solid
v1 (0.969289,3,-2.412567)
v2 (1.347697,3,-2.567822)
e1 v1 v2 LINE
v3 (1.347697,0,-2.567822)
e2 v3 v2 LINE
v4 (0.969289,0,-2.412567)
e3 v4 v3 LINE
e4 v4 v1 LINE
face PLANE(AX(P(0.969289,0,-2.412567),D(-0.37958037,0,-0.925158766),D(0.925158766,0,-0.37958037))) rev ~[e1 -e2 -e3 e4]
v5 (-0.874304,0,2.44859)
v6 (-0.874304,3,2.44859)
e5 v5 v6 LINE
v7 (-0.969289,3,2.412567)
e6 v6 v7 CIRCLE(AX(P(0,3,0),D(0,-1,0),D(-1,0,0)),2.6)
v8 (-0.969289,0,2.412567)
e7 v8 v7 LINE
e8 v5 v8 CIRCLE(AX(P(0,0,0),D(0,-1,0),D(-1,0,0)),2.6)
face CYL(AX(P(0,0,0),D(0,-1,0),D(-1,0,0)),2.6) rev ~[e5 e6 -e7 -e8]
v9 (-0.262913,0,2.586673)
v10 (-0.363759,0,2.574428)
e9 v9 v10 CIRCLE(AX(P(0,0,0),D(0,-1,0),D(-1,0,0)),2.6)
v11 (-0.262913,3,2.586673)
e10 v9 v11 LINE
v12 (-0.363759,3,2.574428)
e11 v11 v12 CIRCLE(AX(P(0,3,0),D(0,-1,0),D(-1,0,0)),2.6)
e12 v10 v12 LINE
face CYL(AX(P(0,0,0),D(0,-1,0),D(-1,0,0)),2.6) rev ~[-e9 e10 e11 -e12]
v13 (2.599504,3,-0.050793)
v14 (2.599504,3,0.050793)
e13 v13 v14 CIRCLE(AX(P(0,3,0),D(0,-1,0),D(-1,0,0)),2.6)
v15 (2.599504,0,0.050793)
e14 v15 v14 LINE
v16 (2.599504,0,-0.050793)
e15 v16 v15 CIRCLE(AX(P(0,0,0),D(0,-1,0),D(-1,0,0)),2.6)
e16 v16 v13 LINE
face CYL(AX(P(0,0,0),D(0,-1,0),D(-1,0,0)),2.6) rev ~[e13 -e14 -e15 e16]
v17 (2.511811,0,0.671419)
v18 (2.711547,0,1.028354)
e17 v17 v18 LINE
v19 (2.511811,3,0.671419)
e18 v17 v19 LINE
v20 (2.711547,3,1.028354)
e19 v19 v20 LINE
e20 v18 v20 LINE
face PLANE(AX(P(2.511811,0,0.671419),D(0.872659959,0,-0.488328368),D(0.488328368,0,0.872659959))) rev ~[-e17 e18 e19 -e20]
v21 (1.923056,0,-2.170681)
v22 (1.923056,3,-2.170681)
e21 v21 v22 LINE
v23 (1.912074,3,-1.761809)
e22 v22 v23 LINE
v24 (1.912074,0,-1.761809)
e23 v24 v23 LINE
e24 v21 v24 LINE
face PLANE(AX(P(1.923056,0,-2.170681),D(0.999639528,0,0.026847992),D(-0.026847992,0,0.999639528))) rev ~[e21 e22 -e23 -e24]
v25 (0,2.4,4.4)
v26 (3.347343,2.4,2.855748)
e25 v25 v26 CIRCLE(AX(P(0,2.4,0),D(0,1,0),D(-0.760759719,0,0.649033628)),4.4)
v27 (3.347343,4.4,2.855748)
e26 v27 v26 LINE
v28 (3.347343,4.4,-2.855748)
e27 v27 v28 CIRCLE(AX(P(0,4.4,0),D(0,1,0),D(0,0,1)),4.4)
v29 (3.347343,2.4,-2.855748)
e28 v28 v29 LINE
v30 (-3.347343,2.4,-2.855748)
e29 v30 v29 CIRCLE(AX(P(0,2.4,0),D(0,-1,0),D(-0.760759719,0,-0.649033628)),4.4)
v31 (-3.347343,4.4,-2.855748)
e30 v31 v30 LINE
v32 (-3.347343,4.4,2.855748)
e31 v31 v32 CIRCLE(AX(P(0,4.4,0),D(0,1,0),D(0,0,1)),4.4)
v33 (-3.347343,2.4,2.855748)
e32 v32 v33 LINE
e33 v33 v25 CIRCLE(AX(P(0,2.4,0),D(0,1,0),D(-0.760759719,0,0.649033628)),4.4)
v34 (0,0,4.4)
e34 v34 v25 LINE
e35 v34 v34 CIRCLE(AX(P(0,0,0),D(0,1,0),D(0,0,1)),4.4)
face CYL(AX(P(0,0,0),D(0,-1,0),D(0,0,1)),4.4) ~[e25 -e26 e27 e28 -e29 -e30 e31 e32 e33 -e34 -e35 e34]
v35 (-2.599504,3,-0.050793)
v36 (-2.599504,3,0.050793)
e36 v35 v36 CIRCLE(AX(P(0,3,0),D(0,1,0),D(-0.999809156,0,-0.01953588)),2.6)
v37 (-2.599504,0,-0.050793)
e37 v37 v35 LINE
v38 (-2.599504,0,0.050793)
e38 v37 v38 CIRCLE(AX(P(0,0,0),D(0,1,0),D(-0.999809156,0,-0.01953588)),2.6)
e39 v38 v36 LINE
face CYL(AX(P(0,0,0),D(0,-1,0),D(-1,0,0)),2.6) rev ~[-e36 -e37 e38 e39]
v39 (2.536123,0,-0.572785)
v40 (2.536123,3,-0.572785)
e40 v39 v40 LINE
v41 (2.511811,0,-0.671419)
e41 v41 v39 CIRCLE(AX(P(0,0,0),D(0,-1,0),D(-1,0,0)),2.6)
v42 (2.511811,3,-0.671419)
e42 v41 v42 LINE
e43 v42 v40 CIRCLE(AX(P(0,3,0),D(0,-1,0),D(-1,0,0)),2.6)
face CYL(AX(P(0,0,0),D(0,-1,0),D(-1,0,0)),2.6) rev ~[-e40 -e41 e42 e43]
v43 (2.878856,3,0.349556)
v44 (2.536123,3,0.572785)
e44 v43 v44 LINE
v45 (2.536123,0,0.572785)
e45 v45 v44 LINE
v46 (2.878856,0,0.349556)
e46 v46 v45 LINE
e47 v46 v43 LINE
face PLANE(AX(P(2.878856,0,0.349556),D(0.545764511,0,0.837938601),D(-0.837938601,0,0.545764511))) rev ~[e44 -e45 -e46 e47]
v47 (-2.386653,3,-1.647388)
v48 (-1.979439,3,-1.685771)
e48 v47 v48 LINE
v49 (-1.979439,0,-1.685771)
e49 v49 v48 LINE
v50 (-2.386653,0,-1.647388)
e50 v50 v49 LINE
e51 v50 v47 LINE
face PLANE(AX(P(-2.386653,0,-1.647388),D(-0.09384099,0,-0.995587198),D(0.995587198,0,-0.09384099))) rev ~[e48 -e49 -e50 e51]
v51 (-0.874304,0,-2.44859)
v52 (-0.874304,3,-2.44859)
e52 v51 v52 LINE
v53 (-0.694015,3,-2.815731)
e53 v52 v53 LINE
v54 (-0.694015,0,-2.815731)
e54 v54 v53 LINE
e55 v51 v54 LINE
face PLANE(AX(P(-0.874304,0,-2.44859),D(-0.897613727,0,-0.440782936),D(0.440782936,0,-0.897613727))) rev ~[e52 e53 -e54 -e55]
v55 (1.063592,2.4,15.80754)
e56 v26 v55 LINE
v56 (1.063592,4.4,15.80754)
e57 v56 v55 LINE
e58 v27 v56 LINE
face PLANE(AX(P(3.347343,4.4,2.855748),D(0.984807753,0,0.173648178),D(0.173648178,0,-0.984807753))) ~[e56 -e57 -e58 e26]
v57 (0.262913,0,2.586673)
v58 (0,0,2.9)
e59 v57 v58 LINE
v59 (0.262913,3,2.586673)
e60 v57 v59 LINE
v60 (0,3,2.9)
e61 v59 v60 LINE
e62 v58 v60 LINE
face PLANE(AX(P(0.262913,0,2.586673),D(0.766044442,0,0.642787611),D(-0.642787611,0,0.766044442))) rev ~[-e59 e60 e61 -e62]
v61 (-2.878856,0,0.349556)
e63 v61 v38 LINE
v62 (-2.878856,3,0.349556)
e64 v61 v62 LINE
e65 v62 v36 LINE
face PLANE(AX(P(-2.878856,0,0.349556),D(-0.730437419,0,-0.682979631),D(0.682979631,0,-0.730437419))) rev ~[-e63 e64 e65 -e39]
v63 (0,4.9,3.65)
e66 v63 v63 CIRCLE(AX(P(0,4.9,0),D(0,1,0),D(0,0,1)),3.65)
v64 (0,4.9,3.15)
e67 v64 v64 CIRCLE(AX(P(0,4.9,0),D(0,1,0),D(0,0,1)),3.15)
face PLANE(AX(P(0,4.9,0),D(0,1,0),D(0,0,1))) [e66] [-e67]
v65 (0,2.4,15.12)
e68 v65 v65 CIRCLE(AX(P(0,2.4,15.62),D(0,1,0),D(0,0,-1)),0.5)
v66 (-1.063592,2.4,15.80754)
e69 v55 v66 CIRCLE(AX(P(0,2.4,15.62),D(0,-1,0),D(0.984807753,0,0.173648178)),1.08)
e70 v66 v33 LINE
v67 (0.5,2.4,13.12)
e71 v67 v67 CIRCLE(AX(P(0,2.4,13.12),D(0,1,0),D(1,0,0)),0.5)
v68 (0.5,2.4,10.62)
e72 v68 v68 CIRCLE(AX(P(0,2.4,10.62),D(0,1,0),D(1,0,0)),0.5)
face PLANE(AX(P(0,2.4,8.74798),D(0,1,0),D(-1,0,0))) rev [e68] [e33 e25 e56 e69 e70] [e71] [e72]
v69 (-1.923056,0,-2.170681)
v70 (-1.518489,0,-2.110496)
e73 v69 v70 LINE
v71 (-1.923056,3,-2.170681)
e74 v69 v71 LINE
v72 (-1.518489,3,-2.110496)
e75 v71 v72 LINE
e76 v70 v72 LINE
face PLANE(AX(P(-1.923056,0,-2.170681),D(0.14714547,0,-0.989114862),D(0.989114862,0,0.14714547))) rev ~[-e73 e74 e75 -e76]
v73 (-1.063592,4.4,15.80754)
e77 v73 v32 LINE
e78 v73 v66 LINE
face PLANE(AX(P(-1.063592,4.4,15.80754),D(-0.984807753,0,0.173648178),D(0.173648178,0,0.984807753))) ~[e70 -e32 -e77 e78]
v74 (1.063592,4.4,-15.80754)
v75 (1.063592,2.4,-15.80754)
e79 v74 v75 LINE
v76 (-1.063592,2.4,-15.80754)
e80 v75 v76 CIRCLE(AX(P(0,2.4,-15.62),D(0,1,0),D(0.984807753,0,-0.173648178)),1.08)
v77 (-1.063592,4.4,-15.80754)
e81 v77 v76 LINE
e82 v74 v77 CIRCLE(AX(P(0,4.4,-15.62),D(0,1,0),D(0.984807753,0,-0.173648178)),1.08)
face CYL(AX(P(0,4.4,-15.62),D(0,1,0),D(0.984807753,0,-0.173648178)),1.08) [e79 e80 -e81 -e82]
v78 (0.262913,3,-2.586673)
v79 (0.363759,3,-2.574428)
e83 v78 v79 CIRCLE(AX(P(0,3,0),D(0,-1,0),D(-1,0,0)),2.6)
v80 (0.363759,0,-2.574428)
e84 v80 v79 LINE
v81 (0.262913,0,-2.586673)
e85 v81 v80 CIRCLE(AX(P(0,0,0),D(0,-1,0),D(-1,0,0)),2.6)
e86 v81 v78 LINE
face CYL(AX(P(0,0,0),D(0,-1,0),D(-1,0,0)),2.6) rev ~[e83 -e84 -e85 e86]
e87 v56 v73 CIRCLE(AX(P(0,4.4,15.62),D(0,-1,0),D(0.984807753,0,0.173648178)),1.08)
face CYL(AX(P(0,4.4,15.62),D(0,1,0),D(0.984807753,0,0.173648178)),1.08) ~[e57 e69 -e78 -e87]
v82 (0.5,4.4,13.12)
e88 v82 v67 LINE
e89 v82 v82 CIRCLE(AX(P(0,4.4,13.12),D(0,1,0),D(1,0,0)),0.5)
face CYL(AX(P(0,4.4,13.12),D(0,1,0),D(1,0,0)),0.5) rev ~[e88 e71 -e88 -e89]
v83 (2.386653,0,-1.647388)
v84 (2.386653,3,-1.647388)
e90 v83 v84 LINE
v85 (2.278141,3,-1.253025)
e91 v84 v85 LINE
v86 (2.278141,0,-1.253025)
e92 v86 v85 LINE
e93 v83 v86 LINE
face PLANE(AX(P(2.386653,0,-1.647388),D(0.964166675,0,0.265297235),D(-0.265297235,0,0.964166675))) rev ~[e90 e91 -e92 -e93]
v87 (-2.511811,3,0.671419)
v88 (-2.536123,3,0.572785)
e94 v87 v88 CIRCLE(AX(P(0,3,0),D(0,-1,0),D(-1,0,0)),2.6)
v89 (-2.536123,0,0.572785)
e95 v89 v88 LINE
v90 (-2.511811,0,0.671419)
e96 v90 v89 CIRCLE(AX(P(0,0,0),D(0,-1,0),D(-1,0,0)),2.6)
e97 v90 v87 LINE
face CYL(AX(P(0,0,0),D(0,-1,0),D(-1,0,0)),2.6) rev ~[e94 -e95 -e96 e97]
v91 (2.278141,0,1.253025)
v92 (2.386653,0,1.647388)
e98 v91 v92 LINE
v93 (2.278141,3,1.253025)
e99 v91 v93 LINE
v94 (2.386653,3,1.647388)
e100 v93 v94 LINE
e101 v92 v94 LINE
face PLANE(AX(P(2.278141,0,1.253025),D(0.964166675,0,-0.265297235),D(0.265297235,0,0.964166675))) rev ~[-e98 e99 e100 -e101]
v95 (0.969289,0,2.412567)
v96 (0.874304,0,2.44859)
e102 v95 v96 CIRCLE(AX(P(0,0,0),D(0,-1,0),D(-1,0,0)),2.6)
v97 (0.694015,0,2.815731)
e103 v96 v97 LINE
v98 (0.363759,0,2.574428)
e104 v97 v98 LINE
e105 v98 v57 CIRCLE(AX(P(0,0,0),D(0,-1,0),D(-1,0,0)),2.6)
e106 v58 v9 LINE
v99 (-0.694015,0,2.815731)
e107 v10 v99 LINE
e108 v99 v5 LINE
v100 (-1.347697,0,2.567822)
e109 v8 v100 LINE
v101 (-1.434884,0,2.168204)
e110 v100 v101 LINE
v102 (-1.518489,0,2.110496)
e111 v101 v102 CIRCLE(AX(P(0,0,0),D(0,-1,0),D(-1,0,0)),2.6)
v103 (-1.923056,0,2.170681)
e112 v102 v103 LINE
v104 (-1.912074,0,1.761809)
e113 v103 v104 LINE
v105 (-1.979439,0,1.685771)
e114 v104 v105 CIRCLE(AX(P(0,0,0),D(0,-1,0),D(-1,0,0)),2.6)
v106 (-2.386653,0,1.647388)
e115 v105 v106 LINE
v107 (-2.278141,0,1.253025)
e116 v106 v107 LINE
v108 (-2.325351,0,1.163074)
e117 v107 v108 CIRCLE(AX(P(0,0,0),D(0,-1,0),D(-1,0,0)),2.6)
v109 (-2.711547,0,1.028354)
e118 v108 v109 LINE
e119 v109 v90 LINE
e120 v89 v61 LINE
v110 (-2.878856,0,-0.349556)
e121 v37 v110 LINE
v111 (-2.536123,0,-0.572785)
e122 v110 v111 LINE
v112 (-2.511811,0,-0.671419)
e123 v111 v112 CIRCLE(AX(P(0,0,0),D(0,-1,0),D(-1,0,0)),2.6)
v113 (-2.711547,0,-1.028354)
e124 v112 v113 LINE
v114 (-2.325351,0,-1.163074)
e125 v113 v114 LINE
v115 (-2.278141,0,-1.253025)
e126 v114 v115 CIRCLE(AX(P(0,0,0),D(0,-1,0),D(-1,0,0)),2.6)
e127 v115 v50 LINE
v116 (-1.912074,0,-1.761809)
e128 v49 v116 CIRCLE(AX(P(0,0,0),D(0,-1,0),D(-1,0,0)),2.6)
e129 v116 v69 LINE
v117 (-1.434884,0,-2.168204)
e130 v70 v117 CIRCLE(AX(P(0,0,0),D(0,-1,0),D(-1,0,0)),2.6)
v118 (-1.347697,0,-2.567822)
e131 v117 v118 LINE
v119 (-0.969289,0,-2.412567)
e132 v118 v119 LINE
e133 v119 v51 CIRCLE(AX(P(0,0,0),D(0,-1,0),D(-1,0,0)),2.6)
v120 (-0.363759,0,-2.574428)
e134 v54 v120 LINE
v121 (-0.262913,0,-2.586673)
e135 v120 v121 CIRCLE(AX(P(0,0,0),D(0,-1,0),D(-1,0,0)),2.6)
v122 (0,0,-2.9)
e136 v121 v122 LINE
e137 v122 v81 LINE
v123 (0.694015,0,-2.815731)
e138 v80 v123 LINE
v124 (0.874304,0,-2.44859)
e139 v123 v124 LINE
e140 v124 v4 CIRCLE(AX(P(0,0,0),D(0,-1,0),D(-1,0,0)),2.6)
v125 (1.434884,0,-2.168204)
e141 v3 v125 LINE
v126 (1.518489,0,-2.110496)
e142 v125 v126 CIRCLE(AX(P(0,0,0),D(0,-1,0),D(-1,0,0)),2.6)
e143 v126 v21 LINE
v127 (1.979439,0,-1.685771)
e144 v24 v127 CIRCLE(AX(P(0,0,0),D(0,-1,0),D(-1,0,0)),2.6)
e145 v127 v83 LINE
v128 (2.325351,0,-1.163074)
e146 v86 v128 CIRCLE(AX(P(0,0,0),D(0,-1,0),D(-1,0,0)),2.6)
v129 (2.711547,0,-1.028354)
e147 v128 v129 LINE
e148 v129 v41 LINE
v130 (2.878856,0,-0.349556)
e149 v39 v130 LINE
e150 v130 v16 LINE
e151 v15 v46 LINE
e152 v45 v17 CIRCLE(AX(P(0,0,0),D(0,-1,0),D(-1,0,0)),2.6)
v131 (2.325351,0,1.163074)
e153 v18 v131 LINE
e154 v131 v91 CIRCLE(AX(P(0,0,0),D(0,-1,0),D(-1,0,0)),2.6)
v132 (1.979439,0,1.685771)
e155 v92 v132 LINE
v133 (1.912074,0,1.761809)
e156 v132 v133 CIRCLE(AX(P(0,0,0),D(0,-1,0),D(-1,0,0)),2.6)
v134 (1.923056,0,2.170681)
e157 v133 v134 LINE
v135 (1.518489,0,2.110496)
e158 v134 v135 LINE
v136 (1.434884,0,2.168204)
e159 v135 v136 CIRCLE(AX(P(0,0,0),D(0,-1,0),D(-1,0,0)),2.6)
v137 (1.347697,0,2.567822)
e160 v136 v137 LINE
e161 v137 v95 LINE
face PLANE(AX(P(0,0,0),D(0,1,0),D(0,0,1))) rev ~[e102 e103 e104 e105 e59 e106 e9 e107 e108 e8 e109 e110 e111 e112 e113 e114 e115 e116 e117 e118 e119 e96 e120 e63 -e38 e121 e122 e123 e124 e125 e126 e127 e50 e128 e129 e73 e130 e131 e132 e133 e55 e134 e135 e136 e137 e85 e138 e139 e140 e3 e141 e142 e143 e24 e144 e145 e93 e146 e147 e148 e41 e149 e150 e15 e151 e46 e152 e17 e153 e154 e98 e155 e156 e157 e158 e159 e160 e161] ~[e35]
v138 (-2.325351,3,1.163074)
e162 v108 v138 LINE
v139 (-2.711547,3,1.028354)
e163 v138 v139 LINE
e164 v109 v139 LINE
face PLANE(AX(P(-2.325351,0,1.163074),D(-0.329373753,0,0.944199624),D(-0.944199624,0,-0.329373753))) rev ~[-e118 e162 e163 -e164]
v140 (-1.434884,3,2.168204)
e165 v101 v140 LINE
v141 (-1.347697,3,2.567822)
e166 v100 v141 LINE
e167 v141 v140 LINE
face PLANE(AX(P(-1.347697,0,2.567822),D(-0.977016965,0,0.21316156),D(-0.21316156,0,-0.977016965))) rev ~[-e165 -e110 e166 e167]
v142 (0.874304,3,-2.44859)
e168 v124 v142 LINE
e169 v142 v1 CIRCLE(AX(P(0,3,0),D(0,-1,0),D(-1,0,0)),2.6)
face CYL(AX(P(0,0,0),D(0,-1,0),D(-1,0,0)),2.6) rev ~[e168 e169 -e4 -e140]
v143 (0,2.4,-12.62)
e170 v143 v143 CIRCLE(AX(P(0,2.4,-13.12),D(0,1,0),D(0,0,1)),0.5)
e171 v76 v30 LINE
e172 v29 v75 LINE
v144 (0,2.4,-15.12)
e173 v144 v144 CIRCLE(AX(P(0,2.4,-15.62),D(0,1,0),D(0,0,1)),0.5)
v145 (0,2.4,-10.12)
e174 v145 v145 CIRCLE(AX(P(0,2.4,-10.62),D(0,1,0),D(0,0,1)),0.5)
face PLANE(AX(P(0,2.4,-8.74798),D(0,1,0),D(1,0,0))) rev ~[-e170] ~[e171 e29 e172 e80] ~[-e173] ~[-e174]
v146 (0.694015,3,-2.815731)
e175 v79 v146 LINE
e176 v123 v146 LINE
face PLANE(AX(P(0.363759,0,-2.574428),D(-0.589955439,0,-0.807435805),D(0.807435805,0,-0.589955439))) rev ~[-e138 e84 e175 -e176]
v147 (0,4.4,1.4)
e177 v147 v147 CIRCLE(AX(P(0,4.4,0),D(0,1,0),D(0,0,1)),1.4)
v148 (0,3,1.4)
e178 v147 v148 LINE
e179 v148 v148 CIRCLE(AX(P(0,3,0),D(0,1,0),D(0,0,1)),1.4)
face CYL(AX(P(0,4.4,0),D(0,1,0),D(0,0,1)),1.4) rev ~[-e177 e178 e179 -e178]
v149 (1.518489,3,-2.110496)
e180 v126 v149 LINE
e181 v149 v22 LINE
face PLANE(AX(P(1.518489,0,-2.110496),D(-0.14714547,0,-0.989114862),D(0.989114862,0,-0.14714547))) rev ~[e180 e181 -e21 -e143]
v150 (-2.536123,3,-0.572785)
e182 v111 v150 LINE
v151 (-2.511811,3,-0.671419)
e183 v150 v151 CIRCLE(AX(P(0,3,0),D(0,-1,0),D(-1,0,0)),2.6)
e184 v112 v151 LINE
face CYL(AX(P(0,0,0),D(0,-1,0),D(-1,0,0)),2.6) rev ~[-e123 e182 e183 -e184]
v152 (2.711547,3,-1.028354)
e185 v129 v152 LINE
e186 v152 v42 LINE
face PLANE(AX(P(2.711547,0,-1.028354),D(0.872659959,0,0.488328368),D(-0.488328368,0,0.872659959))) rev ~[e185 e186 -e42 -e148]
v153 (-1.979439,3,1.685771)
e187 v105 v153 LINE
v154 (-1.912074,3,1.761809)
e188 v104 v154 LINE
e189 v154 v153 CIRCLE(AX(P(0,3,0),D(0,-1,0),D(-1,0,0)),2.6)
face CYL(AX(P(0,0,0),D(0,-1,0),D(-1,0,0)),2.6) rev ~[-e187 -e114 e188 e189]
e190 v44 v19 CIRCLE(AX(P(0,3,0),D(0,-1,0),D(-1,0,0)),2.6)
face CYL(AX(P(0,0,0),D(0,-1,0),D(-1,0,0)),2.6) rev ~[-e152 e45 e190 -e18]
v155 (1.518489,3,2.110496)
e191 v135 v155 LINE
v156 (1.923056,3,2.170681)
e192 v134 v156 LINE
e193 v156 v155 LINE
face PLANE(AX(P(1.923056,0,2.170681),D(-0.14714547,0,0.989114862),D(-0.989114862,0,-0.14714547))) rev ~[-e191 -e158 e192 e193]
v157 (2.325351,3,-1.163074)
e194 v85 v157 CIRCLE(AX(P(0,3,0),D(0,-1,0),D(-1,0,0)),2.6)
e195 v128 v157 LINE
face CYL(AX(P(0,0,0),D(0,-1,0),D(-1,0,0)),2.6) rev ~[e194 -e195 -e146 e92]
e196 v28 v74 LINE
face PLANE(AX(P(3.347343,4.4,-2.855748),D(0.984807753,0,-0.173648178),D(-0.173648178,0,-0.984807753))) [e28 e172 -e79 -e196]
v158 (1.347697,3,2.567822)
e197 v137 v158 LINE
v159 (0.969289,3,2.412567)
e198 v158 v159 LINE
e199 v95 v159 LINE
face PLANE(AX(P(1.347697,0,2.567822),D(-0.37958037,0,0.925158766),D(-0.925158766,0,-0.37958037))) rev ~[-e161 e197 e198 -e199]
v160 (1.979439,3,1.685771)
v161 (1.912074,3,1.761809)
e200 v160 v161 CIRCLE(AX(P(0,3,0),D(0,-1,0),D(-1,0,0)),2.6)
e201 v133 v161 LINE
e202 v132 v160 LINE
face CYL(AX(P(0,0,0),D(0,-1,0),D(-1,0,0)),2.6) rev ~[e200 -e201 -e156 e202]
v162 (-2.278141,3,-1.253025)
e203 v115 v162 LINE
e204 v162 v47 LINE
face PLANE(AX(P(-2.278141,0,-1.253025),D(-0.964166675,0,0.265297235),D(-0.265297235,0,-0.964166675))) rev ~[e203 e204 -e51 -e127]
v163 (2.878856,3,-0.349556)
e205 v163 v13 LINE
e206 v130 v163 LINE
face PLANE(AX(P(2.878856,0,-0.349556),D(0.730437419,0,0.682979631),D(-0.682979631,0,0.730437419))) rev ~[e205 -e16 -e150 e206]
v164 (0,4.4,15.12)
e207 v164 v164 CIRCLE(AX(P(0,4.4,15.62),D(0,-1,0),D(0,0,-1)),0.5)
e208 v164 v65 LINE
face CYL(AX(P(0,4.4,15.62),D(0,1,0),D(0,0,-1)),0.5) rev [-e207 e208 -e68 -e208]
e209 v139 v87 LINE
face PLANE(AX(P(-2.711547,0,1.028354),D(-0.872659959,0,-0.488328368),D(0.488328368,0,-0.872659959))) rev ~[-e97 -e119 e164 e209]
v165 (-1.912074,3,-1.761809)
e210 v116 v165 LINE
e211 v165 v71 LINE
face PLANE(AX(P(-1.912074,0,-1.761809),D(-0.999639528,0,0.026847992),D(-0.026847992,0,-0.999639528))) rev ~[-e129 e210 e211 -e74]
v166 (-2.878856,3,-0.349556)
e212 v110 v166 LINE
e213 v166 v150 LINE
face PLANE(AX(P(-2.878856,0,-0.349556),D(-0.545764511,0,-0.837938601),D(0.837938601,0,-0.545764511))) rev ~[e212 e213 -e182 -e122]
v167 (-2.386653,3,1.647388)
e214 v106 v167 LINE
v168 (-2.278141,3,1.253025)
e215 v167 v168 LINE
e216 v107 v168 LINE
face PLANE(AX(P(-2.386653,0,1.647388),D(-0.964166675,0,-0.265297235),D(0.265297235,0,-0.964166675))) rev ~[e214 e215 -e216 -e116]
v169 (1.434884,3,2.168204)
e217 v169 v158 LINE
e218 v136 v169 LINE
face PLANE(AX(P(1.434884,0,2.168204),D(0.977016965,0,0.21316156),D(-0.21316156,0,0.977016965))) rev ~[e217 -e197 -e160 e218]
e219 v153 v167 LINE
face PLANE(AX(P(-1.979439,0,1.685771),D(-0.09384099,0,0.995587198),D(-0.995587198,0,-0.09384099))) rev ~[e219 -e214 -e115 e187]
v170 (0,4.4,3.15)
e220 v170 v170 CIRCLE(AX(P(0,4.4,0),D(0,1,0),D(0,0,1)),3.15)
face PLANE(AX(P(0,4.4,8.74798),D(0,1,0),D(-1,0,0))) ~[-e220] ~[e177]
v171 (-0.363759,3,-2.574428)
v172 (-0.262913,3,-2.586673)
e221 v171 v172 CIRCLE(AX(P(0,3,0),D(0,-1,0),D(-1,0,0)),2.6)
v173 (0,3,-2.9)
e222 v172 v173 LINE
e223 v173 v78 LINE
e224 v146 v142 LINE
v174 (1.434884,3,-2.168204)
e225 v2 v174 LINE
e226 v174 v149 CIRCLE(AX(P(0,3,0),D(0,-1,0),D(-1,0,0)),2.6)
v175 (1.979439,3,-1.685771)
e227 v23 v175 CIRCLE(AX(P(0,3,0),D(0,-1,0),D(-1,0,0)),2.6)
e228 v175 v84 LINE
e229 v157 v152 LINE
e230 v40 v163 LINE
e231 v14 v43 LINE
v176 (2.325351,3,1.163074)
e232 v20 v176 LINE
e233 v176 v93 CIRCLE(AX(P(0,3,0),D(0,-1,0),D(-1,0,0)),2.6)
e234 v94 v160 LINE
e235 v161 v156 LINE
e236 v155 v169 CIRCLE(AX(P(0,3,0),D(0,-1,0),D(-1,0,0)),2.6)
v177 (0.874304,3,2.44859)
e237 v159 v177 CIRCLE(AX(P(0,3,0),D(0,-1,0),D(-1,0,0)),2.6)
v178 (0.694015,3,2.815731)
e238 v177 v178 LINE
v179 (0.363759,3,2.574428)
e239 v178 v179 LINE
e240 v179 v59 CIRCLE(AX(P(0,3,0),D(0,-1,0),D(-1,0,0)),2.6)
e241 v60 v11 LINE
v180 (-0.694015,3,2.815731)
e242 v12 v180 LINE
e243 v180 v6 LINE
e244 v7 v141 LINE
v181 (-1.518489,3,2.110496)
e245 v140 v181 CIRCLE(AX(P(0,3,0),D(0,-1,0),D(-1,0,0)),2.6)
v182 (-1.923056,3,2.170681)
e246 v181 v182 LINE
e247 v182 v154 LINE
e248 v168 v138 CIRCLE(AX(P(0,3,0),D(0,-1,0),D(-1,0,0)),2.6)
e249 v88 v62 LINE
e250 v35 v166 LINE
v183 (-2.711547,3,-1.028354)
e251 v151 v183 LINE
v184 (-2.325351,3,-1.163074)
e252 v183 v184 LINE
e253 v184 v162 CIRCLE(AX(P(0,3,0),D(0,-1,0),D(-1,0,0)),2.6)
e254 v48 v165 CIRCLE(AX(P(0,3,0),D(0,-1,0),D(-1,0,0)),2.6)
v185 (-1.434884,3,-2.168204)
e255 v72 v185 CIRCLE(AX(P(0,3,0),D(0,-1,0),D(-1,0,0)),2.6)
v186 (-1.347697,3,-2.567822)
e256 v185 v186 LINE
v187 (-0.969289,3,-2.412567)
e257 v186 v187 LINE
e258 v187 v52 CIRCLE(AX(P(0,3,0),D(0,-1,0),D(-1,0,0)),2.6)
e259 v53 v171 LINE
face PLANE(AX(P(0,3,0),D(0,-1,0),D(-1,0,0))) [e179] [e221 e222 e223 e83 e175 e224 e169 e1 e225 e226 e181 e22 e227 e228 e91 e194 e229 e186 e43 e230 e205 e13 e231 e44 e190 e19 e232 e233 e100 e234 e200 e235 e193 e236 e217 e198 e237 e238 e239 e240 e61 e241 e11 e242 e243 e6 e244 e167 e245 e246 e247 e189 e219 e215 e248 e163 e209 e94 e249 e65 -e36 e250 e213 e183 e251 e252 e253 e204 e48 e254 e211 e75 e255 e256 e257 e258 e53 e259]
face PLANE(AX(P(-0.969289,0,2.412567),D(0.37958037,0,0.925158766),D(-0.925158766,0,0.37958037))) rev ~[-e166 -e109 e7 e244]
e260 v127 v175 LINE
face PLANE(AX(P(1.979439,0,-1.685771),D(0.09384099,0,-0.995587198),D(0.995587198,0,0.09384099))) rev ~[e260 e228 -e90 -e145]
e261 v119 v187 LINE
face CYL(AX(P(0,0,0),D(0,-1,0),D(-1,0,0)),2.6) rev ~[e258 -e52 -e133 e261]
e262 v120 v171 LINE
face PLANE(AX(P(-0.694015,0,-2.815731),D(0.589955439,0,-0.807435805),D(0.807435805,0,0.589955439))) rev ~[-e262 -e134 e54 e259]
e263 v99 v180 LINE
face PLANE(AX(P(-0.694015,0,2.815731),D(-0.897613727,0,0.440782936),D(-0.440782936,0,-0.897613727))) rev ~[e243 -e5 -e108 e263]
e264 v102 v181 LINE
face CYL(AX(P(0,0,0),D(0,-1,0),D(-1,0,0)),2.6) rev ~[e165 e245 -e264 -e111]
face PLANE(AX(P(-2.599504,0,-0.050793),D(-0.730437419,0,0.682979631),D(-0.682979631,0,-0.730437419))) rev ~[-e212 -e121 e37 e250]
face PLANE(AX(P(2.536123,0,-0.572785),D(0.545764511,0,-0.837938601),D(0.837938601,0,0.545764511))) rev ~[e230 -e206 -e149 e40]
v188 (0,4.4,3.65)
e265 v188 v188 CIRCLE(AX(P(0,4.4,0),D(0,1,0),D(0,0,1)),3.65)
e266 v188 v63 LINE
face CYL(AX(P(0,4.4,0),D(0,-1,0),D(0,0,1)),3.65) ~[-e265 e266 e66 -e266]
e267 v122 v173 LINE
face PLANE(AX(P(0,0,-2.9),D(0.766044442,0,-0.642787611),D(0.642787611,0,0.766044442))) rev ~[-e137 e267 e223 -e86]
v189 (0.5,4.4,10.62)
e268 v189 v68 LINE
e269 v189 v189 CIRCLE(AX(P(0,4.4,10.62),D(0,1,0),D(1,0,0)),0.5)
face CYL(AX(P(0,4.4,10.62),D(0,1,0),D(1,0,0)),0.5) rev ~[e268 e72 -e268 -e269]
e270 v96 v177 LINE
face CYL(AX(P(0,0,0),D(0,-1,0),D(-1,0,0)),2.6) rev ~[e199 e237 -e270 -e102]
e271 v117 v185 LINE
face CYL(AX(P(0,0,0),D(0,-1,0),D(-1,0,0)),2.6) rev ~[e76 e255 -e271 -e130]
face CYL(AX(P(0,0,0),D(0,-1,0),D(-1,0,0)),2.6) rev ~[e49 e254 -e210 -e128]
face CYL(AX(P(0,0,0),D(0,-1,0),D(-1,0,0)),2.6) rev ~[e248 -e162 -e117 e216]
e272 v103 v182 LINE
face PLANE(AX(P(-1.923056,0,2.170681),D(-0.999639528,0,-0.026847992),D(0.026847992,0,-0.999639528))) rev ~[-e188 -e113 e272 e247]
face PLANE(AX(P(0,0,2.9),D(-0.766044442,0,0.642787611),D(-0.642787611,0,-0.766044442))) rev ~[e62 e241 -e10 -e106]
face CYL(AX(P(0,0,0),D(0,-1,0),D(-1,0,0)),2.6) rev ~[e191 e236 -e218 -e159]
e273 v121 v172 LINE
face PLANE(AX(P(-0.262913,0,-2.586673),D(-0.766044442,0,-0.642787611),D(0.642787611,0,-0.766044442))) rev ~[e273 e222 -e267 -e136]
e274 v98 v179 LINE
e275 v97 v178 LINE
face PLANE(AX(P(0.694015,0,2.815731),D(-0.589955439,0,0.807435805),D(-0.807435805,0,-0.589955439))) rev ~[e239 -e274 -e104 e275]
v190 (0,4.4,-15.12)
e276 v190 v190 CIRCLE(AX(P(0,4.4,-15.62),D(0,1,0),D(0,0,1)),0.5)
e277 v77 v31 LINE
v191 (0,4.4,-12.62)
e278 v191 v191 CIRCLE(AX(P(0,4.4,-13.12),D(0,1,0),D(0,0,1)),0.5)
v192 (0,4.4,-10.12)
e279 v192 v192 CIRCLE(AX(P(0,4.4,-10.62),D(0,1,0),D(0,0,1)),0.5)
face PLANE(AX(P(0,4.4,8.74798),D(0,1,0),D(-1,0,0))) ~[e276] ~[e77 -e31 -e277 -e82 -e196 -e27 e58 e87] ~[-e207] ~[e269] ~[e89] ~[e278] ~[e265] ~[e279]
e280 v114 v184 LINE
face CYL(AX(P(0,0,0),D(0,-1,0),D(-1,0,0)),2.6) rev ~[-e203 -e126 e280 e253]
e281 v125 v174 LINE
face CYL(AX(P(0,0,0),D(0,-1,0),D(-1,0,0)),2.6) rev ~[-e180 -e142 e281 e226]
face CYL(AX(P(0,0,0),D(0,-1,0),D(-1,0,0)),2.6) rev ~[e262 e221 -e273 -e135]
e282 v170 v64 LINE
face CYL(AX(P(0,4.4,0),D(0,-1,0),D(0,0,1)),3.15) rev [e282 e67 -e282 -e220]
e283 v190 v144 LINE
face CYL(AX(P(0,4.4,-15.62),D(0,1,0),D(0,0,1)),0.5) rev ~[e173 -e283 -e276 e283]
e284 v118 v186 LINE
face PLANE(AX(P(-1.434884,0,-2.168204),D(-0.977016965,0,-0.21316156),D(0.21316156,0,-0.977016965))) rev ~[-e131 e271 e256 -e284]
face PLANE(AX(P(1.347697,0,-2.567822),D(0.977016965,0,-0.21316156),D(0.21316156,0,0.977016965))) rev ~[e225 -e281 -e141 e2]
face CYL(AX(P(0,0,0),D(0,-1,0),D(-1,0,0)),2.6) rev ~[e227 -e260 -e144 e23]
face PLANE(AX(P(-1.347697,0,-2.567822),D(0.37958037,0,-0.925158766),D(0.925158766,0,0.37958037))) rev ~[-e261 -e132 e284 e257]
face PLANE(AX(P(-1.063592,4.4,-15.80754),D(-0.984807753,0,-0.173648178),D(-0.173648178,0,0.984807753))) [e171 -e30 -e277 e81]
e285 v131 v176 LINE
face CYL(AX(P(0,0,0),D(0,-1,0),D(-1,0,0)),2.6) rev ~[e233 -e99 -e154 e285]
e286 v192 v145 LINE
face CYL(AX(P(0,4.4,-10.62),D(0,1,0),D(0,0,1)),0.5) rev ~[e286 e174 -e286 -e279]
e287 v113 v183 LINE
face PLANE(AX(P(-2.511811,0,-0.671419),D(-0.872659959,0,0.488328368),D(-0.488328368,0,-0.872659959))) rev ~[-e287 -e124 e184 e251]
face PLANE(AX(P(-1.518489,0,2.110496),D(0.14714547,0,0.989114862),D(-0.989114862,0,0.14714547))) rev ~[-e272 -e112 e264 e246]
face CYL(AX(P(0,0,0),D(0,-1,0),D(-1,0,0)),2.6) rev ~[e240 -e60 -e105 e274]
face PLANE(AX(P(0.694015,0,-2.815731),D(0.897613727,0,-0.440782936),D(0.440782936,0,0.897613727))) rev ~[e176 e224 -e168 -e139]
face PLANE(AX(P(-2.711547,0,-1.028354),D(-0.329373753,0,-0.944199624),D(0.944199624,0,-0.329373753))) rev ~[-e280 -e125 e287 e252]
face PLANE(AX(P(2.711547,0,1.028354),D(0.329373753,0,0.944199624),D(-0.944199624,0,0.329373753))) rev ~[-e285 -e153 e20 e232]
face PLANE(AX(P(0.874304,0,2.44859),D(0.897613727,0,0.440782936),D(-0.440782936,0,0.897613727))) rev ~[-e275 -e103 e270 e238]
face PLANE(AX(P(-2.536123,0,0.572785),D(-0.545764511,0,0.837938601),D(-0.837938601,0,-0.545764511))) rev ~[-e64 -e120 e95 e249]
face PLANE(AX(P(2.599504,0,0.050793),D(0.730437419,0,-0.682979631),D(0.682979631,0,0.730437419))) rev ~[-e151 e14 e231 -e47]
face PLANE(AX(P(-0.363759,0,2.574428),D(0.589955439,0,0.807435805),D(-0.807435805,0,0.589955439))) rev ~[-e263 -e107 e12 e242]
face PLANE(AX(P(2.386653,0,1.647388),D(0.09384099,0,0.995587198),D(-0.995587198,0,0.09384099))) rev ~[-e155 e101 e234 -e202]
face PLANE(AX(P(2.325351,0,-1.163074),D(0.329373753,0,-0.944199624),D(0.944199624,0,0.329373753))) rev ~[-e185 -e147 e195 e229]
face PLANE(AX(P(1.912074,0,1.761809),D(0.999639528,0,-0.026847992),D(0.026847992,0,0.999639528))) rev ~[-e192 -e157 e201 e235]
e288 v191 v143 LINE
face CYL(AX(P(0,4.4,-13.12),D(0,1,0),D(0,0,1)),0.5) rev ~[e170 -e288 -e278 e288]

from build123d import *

# Parameters (mm, degrees)
BASES_R                     = 4.4
BASE_DEPTH                  = 4.4
TOPBORES_R                  = 1.4
TOP_BORE_DEPTH              = 8.621023553
HORN_HALF_DEPTH             = 2
HORNATTACHS_R               = 0.5
HORN_ATTACH_DEPTH           = 18.821616088
HA_LP_COUNT                 = 3
HA_LP_PITCH                 = 2.5
HORN_BODIES_COPY_1_SKETCH_R = 0.5
HORN_BODIES_COPY_1_DEPTH    = 18.821616088
HORN_BODIES_COPY_2_SKETCH_R = 0.5
HORN_BODIES_COPY_2_DEPTH    = 18.821616088
TOOTH_DEPTH                 = 3
TOOTH_CP_COUNT              = 26
BOTTOMBORES_R               = 2.6
BOTTOM_BORE_DEPTH           = 3
TOPPOCKETCYLINDERS_R        = 3.65
TOPPOCKETCYLINDERS_R_2      = 3.15
TOP_POCKET_CYLINDER_DEPTH   = 0.5


with BuildPart() as part:
    # BaseS → BASE (new body)
    with BuildSketch(Plane(origin=(0, 0, 0), x_dir=(1, 0, 0), z_dir=(0, 1, 0))):
        with Locations(Location((0, 0, 0), (0, 0, 270))):
            Circle(BASES_R)
    extrude(amount=BASE_DEPTH)

    # TopBoreS → TOP BORE (cut, through all)
    with BuildSketch(Plane(origin=(0, 4.4, 0), x_dir=(1, 0, 0), z_dir=(0, 1, 0))):
        with Locations(Location((0, 0, 0), (0, 0, 270))):
            Circle(TOPBORES_R)
    extrude(amount=-TOP_BORE_DEPTH, mode=Mode.SUBTRACT)

    # HornHalfS → HORN HALF (add)
    with BuildSketch(Plane(origin=(0, 4.4, 0), x_dir=(1, 0, 0), z_dir=(0, 1, 0))):
        with BuildLine():
            Line((-1.063592373, 15.807540032), (-3.347342764, 2.855747962))
            ThreePointArc((-3.347342764, 2.855747962), (0, 4.4), (3.347342764, 2.855747962))
            Line((3.347342764, 2.855747962), (1.063592373, 15.807540032))
            ThreePointArc((1.063592373, 15.807540032), (0, 16.7), (-1.063592373, 15.807540032))
        make_face()
    horn_half = extrude(amount=-HORN_HALF_DEPTH)

    # HornAttachS → HORN ATTACH (cut, through all)
    with BuildSketch(Plane(origin=(0, 4.4, 0), x_dir=(1, 0, 0), z_dir=(0, 1, 0))):
        with Locations(Location((0, 15.62, 0), (0, 0, 270))):
            Circle(HORNATTACHS_R)
    horn_attach = extrude(amount=-HORN_ATTACH_DEPTH, mode=Mode.SUBTRACT)

    # HA LP: HORN ATTACH ×3
    with Locations(*[(0, 0, i * HA_LP_PITCH) for i in range(1, HA_LP_COUNT)]):
        add(horn_attach, mode=Mode.SUBTRACT)

    # HORN BODIES: HORN HALF, HORN ATTACH across plane
    add(horn_half.mirror(Plane.XY))
    add(horn_attach.mirror(Plane.XY), mode=Mode.SUBTRACT)

    # HORN BODIES copy 1 sketch → HORN BODIES copy 1 (cut, through all)
    with BuildSketch(Plane(origin=(0, 4.4, -2.5), x_dir=(1, 0, 0), z_dir=(0, 1, 0))):
        with Locations((0, -15.62)):
            Circle(HORN_BODIES_COPY_1_SKETCH_R)
    extrude(amount=-HORN_BODIES_COPY_1_DEPTH, mode=Mode.SUBTRACT)

    # HORN BODIES copy 2 sketch → HORN BODIES copy 2 (cut, through all)
    with BuildSketch(Plane(origin=(0, 4.4, -5), x_dir=(1, 0, 0), z_dir=(0, 1, 0))):
        with Locations((0, -15.62)):
            Circle(HORN_BODIES_COPY_2_SKETCH_R)
    extrude(amount=-HORN_BODIES_COPY_2_DEPTH, mode=Mode.SUBTRACT)

    # ToothS → TOOTH (cut)
    with BuildSketch(Plane.XZ):
        with BuildLine():
            Line((0, -2.9), (0.262912611, -2.586672952))
            ThreePointArc((0.262912611, -2.586672952), (0, -2.6), (-0.262912611, -2.586672952))
            Line((-0.262912611, -2.586672952), (0, -2.9))
        make_face()
    tooth = extrude(amount=-TOOTH_DEPTH, mode=Mode.SUBTRACT)

    # TOOTH CP: TOOTH ×26 about axis
    tooth_cp_axis = Axis((0, 0, 0), (0, 1, 0))
    for i in range(1, TOOTH_CP_COUNT):
        add(tooth.rotate(tooth_cp_axis, i * 360 / TOOTH_CP_COUNT), mode=Mode.SUBTRACT)

    # BottomBoreS → BOTTOM BORE (cut)
    with BuildSketch(Plane(origin=(0, 0, 0), x_dir=(-1, 0, 0), z_dir=(0, -1, 0))):
        Circle(BOTTOMBORES_R)
    extrude(amount=-BOTTOM_BORE_DEPTH, mode=Mode.SUBTRACT)

    # TopPocketCylinderS → TOP POCKET CYLINDER (add)
    with BuildSketch(Plane(origin=(0, 4.4, 0), x_dir=(1, 0, 0), z_dir=(0, 1, 0))):
        with Locations(Location((0, 0, 0), (0, 0, 270))):
            Circle(TOPPOCKETCYLINDERS_R)
        with Locations(Location((0, 0, 0), (0, 0, 270))):
            Circle(TOPPOCKETCYLINDERS_R_2, mode=Mode.SUBTRACT)
    extrude(amount=TOP_POCKET_CYLINDER_DEPTH)


solid = part.part
